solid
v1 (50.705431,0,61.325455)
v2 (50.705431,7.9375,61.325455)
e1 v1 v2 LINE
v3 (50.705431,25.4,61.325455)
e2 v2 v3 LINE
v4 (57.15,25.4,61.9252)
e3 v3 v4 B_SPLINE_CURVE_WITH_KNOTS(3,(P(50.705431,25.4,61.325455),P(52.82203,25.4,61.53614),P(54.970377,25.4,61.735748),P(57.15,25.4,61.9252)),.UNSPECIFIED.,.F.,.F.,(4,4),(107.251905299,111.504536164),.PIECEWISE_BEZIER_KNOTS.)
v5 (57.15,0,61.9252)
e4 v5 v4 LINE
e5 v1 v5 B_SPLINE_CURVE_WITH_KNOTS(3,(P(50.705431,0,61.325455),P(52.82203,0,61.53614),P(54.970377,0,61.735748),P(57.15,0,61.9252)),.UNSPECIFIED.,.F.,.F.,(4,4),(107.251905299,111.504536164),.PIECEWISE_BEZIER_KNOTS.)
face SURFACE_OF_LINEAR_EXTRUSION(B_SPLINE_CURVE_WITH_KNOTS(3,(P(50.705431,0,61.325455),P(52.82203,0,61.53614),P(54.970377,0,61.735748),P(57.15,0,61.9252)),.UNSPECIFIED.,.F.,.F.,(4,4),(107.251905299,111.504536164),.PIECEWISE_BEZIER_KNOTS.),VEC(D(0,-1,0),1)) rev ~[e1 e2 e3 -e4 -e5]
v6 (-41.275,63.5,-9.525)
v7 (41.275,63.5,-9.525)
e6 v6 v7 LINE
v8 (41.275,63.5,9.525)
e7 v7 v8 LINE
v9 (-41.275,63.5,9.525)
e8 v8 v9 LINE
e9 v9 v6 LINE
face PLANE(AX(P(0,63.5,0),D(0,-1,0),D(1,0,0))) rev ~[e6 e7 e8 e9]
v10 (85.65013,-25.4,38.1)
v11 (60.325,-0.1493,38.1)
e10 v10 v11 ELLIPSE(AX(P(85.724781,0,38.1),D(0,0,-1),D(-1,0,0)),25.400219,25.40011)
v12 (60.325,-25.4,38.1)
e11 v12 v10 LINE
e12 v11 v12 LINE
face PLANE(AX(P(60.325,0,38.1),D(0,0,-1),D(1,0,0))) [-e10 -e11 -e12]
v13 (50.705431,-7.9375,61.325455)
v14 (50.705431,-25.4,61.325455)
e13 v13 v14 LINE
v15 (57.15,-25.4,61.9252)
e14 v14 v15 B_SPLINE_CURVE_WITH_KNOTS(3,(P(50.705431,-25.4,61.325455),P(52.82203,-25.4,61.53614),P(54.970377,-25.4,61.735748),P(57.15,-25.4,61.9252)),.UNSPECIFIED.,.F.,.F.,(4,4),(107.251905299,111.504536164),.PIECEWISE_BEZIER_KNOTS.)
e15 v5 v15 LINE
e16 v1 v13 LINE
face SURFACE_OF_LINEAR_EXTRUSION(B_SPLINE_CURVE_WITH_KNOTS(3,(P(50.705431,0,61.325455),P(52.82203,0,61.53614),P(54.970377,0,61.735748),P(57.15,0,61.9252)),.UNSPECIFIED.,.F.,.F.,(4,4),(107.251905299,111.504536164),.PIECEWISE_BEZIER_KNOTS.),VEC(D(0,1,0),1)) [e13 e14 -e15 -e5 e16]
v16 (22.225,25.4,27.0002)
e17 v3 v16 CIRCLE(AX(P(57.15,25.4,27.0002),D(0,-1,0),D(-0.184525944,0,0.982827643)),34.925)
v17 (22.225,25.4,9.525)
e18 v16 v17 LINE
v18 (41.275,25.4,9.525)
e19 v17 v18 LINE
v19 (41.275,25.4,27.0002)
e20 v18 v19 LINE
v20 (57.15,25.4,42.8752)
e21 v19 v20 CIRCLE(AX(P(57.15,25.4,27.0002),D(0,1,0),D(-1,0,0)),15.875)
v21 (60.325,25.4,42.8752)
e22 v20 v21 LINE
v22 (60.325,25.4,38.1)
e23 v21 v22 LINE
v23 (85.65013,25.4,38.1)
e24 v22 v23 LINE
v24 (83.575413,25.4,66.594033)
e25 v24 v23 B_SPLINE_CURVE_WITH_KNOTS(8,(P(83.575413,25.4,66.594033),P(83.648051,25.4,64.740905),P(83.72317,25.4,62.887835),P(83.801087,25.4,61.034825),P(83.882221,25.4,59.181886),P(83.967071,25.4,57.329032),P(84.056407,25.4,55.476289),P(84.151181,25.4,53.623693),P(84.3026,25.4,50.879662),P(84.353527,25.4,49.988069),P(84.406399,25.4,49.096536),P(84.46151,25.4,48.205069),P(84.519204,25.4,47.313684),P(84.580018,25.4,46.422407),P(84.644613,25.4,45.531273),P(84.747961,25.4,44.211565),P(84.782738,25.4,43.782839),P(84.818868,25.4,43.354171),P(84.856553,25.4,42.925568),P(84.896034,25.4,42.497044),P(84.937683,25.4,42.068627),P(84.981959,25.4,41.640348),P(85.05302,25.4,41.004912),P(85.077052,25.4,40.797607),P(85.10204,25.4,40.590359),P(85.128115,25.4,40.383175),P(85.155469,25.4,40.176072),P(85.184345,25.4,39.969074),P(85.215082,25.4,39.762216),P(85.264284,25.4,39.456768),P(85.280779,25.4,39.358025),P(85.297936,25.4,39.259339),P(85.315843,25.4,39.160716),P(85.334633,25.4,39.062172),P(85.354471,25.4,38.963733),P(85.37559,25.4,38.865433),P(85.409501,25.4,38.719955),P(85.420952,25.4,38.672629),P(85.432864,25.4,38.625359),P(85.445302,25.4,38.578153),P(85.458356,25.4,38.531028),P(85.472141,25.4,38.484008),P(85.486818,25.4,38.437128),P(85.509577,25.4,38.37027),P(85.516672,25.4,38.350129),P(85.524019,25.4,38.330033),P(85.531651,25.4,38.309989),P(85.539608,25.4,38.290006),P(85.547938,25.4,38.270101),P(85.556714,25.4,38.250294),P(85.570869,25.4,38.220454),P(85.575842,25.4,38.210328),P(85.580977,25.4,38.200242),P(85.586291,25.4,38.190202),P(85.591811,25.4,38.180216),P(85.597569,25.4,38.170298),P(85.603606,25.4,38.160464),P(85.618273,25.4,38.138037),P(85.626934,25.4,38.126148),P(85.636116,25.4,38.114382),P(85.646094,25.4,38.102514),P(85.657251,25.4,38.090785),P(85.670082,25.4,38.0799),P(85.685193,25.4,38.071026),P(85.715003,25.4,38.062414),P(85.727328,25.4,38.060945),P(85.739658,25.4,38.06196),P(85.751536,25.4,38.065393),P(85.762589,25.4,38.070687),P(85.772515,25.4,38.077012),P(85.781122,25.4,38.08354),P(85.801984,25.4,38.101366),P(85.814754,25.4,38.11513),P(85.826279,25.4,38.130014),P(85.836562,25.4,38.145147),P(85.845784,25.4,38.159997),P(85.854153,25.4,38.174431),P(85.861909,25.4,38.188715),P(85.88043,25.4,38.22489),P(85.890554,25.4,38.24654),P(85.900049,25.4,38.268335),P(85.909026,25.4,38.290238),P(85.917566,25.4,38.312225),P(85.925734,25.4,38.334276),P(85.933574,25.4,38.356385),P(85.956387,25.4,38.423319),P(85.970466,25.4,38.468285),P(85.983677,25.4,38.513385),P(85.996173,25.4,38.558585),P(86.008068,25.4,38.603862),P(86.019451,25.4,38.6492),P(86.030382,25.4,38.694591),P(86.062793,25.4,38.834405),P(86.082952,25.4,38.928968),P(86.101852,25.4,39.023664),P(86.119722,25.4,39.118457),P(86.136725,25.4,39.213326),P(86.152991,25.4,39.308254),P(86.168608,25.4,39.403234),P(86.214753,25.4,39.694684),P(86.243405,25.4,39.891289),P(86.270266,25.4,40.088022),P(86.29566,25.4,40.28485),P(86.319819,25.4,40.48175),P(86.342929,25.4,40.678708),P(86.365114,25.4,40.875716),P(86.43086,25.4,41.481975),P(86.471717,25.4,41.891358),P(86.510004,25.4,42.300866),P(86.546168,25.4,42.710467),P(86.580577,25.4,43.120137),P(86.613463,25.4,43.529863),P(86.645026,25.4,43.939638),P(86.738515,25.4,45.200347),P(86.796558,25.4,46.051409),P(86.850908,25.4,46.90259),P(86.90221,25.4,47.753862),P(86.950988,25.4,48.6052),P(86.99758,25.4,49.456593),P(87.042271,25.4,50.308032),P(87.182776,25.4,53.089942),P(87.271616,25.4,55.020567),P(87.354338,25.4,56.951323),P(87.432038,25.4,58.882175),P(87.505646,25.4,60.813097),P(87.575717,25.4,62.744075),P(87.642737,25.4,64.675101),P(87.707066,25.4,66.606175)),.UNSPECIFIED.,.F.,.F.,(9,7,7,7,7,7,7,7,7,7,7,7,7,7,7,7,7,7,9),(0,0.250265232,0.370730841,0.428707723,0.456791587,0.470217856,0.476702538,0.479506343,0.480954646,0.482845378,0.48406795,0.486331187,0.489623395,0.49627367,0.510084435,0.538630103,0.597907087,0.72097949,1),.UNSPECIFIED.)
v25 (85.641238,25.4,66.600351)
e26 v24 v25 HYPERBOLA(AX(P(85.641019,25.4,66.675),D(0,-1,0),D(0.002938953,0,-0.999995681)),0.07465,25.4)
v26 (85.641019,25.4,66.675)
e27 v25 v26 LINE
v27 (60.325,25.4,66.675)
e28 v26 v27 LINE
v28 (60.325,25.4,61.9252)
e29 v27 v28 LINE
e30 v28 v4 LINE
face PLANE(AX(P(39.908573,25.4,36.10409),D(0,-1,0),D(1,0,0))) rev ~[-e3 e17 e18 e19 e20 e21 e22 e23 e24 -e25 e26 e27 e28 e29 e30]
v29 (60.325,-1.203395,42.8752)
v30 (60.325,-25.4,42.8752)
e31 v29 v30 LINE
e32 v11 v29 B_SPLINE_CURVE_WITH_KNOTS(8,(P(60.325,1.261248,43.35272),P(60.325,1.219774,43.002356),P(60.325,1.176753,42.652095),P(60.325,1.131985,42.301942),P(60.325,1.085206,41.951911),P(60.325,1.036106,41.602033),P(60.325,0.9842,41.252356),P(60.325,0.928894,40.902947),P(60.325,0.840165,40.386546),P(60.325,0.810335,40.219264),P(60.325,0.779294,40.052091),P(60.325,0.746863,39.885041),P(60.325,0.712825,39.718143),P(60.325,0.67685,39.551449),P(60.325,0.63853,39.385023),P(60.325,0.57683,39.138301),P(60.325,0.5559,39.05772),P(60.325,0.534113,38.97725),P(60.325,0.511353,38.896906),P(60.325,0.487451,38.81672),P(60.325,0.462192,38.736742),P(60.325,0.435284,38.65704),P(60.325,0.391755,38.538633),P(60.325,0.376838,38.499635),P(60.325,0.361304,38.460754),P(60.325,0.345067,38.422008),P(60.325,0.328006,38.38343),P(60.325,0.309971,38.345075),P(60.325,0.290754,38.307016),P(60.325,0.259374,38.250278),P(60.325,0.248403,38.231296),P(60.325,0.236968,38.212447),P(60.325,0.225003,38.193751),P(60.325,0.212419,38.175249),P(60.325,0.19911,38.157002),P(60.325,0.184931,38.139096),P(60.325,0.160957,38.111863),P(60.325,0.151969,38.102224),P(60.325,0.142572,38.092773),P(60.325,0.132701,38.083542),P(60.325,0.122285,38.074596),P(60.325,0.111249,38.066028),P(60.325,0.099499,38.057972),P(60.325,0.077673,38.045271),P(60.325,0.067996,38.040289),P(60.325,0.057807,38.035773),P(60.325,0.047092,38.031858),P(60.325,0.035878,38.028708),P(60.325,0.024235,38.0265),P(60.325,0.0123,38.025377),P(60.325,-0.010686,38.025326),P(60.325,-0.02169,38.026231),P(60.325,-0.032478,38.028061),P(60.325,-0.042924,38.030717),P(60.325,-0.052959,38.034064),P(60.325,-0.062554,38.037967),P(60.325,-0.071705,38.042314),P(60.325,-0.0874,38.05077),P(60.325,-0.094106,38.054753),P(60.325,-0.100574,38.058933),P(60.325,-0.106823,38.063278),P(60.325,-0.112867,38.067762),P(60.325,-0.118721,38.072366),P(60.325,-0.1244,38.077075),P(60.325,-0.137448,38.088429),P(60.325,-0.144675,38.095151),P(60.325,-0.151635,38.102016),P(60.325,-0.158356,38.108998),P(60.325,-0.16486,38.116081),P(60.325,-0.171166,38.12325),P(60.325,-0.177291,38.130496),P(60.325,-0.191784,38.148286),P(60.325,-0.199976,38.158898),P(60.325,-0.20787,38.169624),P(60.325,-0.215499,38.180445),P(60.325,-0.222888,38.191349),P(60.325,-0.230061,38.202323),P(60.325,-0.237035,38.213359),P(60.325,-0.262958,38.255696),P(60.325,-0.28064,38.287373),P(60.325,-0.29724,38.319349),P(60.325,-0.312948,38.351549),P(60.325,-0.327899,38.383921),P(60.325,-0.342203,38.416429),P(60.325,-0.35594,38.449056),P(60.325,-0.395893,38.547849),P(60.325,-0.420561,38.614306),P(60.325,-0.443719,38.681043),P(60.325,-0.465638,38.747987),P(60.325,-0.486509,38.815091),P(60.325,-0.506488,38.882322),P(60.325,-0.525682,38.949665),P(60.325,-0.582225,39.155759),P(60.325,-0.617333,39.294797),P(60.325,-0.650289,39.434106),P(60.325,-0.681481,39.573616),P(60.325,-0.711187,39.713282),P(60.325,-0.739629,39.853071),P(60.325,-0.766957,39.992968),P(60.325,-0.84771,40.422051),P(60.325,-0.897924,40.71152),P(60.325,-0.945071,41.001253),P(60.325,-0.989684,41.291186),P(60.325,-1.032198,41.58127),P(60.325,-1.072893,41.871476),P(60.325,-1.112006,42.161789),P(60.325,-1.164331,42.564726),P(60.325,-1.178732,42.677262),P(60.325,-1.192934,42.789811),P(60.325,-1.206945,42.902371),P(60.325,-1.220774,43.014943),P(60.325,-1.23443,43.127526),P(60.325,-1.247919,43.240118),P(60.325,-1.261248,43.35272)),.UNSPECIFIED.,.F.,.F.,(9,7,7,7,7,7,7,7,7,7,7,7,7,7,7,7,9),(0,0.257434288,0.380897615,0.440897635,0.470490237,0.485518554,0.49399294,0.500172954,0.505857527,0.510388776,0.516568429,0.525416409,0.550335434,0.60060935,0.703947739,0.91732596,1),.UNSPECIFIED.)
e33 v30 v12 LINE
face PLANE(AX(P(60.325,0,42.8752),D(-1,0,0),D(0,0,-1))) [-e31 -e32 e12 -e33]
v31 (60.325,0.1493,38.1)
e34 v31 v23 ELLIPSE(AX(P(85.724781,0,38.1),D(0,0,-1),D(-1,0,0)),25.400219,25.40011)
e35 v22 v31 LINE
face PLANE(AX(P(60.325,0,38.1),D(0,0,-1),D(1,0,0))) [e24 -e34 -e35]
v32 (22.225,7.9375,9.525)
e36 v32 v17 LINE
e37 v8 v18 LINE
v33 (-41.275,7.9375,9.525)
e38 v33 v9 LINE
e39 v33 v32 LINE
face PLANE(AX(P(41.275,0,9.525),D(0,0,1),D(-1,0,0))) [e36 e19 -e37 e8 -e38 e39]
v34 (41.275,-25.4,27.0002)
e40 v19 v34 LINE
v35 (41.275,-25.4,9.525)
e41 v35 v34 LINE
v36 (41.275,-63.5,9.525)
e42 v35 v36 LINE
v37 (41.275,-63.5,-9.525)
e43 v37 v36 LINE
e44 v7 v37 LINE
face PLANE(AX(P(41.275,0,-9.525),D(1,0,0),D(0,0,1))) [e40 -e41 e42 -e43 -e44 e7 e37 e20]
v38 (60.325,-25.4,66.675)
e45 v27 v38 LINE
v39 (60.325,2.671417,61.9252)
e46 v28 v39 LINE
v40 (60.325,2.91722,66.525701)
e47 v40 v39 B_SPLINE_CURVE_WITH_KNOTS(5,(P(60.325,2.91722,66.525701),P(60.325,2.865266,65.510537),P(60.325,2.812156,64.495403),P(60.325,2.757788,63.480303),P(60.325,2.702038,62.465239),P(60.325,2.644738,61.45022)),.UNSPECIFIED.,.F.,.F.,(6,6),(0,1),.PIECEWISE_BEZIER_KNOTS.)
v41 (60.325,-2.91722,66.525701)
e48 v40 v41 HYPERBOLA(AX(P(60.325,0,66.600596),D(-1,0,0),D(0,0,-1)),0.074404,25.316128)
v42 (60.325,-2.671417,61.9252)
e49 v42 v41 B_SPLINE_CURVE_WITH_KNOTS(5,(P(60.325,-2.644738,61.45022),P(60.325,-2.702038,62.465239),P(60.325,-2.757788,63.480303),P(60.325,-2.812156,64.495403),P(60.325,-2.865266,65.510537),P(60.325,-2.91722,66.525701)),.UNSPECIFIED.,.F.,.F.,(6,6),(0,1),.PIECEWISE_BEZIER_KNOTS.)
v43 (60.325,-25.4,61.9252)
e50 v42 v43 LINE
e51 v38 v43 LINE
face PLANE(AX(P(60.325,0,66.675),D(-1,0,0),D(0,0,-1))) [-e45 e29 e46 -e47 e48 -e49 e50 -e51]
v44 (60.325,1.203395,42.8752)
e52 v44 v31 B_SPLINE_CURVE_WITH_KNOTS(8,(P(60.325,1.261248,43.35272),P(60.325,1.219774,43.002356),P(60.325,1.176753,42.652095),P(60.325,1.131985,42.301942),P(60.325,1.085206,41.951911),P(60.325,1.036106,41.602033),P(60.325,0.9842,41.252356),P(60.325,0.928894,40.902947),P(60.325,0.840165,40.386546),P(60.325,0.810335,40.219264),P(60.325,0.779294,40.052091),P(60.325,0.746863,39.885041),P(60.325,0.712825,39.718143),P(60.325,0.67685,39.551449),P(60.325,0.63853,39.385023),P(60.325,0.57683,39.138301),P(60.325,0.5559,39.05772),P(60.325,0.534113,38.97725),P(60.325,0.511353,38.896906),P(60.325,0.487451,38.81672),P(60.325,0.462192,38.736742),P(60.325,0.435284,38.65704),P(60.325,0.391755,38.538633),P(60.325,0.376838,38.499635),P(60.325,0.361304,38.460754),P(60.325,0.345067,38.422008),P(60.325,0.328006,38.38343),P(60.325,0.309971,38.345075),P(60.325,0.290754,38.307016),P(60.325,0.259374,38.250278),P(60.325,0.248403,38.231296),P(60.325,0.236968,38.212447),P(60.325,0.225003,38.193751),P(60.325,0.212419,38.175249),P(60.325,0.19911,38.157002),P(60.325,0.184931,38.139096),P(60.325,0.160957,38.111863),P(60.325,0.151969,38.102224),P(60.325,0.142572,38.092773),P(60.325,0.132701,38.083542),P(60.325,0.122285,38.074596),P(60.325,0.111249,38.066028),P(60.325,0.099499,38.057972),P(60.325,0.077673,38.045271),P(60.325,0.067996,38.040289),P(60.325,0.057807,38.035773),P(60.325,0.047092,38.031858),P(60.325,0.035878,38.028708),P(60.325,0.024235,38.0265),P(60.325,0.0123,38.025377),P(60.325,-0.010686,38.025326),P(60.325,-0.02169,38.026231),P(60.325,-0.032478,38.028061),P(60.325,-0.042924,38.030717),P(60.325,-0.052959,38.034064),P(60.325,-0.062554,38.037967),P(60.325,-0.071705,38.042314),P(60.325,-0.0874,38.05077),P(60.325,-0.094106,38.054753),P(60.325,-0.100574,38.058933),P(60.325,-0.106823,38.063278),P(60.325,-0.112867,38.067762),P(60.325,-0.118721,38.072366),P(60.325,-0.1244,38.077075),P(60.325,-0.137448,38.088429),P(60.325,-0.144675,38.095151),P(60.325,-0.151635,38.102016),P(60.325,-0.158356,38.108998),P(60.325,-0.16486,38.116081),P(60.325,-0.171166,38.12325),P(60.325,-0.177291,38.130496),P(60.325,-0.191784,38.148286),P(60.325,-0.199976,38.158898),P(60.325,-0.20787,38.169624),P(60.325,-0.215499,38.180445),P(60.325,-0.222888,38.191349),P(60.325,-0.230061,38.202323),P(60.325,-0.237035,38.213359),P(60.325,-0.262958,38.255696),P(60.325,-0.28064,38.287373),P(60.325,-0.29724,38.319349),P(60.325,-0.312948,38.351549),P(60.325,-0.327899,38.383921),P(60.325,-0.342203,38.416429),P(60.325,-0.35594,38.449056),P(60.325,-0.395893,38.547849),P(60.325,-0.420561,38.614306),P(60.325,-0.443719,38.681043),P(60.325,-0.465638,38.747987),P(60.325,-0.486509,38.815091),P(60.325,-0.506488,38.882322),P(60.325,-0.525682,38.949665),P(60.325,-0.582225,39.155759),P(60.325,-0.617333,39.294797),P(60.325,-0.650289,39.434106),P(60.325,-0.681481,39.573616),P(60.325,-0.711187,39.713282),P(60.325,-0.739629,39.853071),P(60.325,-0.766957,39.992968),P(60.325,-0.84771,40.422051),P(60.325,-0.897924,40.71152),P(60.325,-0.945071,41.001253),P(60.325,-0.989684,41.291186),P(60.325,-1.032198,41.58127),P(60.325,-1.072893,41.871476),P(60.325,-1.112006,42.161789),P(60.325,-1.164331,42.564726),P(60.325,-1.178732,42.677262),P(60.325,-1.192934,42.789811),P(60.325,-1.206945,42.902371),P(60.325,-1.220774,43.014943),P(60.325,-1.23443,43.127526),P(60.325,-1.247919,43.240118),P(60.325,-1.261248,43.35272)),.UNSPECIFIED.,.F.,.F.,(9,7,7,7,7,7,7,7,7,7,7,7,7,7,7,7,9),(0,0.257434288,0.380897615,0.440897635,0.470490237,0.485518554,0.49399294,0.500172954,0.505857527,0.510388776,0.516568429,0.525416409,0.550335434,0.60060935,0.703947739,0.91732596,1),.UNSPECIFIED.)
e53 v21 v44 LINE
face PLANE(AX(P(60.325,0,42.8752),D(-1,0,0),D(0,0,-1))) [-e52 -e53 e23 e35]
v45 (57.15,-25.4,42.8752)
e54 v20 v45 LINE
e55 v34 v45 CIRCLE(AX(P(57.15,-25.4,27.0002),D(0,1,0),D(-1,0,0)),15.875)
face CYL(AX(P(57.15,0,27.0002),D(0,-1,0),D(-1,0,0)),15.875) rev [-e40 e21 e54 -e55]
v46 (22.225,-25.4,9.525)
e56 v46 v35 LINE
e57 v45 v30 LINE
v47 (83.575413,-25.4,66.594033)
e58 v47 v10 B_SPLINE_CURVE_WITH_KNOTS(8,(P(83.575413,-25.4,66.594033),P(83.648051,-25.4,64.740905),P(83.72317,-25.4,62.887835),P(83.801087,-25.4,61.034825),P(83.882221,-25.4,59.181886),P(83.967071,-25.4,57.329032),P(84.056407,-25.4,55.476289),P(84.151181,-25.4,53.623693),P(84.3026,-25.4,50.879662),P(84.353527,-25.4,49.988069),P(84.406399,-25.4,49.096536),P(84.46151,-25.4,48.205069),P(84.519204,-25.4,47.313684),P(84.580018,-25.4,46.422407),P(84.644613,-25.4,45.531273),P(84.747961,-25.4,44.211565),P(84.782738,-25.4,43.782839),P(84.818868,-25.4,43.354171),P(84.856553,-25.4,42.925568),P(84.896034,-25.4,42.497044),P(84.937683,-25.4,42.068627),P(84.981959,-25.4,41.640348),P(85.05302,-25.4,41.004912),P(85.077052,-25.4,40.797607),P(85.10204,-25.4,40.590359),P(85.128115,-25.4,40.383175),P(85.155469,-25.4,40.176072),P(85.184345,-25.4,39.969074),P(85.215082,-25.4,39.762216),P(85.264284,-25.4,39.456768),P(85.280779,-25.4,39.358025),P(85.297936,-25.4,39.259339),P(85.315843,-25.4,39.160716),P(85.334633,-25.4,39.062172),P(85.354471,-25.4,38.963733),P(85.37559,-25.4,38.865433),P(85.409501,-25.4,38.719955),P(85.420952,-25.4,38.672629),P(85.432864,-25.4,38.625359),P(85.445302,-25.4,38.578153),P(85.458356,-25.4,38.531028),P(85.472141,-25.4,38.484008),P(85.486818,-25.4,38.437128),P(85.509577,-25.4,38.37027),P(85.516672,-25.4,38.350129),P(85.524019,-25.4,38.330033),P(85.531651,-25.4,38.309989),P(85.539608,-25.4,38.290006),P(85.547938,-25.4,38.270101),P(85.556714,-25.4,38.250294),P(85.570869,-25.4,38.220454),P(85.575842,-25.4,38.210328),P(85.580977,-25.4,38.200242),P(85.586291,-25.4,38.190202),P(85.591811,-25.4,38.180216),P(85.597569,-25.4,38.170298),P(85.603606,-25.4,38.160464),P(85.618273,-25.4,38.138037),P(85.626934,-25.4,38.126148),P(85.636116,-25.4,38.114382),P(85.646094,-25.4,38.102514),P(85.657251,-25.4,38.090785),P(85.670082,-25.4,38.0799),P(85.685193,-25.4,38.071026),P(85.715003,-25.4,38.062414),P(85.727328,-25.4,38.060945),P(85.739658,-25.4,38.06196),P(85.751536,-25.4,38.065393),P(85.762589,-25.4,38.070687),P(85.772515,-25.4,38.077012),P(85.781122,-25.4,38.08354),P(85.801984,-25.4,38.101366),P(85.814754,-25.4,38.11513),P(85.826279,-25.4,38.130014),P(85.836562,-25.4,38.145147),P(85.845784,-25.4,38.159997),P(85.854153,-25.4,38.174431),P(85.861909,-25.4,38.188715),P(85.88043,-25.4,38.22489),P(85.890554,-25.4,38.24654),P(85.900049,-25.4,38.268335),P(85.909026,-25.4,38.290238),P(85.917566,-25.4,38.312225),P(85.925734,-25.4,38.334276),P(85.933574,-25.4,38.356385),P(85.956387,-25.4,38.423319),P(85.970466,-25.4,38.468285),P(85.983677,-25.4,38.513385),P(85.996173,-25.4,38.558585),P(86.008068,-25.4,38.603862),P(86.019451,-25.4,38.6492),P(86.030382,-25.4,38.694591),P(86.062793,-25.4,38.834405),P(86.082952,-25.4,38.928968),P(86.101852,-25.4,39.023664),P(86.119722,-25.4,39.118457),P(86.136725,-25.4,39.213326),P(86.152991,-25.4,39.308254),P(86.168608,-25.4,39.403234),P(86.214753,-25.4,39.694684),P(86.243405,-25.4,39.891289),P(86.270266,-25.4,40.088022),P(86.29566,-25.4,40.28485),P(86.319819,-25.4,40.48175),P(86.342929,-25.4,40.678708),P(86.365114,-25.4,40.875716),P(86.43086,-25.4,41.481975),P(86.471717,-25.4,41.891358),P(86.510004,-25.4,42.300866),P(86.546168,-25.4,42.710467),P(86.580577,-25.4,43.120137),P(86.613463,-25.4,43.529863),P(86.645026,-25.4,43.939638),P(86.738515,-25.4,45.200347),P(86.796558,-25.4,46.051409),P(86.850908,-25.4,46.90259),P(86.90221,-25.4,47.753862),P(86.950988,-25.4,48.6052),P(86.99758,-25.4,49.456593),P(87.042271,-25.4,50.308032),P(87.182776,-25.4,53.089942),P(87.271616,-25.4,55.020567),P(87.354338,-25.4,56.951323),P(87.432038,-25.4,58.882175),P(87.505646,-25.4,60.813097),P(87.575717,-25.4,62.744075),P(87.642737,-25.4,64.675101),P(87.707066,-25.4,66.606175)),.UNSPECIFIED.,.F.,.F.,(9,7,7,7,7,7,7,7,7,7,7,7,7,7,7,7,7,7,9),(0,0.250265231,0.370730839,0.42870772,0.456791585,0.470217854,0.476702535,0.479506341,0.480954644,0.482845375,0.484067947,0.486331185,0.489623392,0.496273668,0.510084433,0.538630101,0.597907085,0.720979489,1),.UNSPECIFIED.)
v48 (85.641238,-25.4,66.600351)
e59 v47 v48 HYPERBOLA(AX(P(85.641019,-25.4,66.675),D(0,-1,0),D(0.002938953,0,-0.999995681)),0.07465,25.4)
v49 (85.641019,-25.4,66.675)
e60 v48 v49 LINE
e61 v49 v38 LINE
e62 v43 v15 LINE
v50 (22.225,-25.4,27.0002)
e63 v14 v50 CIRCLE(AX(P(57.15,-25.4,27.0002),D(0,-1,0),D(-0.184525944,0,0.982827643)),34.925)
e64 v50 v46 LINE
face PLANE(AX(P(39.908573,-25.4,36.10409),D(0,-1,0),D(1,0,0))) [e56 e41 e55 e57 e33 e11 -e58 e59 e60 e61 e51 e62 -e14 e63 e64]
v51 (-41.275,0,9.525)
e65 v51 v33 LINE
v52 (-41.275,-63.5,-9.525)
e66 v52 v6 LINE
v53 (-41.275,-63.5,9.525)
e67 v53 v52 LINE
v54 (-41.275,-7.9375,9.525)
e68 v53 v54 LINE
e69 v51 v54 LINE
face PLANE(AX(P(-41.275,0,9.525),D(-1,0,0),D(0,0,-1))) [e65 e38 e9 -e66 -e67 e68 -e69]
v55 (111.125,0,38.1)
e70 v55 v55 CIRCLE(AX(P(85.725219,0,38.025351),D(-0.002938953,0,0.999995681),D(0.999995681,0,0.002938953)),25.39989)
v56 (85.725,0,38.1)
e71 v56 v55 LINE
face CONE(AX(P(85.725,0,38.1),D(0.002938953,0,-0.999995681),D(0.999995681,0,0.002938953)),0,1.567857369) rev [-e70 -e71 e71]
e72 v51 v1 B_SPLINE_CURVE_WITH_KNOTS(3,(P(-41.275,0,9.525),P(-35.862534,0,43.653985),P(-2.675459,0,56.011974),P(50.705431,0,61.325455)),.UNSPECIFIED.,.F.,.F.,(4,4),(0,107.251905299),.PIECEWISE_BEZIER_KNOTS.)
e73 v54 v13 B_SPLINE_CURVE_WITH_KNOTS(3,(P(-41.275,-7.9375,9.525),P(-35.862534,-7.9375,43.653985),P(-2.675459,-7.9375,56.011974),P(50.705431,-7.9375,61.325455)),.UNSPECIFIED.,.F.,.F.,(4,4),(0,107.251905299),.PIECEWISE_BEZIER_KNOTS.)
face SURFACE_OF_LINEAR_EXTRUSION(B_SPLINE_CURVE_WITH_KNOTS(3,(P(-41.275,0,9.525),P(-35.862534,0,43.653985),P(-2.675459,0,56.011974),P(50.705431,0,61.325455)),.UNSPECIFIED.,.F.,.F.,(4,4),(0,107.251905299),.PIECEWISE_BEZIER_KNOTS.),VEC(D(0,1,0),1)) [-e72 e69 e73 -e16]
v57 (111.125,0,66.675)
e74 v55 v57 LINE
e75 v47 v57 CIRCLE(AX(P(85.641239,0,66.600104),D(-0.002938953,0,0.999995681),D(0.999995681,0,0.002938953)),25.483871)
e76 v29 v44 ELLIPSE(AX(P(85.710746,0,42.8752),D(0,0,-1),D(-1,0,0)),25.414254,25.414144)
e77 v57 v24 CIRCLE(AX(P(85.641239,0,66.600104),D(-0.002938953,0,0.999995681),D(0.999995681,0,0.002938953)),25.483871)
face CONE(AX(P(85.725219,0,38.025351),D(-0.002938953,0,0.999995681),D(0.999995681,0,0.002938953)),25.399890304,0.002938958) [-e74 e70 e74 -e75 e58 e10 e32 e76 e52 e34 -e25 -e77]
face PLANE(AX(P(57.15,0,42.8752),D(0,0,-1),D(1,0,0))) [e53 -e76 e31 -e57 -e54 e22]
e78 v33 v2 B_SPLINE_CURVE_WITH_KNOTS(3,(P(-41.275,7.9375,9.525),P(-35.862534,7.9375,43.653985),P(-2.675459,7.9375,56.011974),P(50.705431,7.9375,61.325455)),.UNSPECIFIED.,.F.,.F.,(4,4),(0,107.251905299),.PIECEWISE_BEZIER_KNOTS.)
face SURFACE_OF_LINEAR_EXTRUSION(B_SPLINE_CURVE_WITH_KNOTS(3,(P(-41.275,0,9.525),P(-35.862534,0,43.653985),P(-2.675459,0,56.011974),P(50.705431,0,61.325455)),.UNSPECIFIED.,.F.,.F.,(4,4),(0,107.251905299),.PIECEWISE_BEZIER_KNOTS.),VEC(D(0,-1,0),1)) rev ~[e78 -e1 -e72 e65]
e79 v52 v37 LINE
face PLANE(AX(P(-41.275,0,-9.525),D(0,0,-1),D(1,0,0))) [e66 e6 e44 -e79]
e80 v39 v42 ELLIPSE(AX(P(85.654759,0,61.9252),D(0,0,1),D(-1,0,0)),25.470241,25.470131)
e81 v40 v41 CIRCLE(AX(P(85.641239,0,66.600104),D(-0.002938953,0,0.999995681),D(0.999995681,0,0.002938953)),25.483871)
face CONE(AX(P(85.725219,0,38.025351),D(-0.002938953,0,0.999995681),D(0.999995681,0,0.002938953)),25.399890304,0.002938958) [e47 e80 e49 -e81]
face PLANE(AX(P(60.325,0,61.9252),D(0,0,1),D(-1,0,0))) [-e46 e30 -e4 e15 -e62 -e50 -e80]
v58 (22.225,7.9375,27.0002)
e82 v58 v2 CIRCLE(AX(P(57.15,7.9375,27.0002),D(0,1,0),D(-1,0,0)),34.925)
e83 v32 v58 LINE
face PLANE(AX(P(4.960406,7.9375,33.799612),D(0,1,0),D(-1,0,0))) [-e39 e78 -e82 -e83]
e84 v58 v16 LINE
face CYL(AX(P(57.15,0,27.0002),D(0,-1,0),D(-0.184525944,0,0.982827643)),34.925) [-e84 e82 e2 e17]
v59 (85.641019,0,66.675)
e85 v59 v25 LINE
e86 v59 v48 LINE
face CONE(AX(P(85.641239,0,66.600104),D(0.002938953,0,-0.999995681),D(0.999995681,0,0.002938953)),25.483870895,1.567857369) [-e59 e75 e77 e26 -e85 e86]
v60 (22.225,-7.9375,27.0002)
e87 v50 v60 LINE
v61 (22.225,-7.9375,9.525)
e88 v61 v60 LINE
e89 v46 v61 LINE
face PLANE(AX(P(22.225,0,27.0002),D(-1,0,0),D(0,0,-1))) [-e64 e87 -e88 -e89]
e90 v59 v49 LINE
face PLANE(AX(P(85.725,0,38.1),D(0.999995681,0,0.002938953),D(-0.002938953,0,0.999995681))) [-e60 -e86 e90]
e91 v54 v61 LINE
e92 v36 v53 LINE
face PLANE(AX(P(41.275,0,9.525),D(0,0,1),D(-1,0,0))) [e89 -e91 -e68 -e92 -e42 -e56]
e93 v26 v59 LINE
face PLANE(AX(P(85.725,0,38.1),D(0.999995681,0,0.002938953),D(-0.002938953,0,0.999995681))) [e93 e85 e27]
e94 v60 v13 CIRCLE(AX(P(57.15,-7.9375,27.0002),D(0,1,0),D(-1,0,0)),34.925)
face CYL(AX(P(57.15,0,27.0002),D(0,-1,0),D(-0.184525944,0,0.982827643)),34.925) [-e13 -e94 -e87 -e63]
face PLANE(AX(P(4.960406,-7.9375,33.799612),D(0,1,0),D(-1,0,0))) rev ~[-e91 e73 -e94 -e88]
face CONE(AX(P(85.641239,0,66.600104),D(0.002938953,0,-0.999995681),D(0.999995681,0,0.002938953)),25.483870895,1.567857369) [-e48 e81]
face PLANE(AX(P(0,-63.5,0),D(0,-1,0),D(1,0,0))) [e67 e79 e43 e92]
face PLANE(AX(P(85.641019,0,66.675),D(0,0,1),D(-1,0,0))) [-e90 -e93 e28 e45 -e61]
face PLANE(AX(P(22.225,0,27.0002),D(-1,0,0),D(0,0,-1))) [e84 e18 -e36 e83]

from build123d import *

# Parameters (mm, degrees)
F1_DEPTH = 63.5
F2_DEPTH = 25.4
F3_DEPTH = 7.9375


with BuildPart() as f1:
    # F0 (on Front) → F1 (new body, symmetric)
    with BuildSketch(Plane.XZ):
        Polygon((-41.275, -9.525), (41.275, -9.525), (41.275, 9.525), (22.225, 9.525), (-41.275, 9.525), align=None)
    extrude(amount=F1_DEPTH, both=True)

    # F0 (on Front) → F2 (join, symmetric)
    with BuildSketch(Plane.XZ):
        with BuildLine():
            Line((22.225, 9.525), (41.275, 9.525))
            Line((41.275, 9.525), (41.275, 27.0002))
            ThreePointArc((41.275, 27.0002), (45.9246798487, 38.2255201513), (57.15, 42.8752))
            Line((57.15, 42.8752), (60.325, 42.8752))
            Line((60.325, 42.8752), (60.325, 61.9252))
            Line((60.325, 61.9252), (57.15, 61.9252))
            add(Edge.make_bspline(
                [(50.7054314014, 61.3254554335), (52.822029921, 61.5361395895), (54.9703769796, 61.7357484347), (57.15, 61.9252)],
                knots=[107.251905299, 107.251905299, 107.251905299, 107.251905299, 111.5045361635, 111.5045361635, 111.5045361635, 111.5045361635], degree=3))
            ThreePointArc((50.7054314014, 61.3254554335), (30.2722007662, 49.3013105855), (22.225, 27.0002))
            Line((22.225, 27.0002), (22.225, 9.525))
        make_face()
        Polygon((60.325, 61.9252), (60.325, 42.8752), (60.325, 38.1), (85.725, 38.1), (85.6410190463, 66.675), (60.325, 66.675), align=None)
    extrude(amount=F2_DEPTH, both=True)

    # F0 (on Front) → F3 (join, symmetric)
    with BuildSketch(Plane.XZ):
        with BuildLine():
            add(Edge.make_bspline(
                [(-41.275, 9.525), (-35.8625339524, 43.6539850574), (-2.675459444, 56.0119735297), (50.7054314014, 61.3254554335)],
                knots=[0, 0, 0, 0, 107.251905299, 107.251905299, 107.251905299, 107.251905299], degree=3))
            Line((-41.275, 9.525), (22.225, 9.525))
            Line((22.225, 9.525), (22.225, 27.0002))
            ThreePointArc((22.225, 27.0002), (30.2722007662, 49.3013105855), (50.7054314014, 61.3254554335))
        make_face()
    extrude(amount=F3_DEPTH, both=True)

    # F0 (on Front) → F4 (revolve)
    with BuildSketch(Plane.XZ):
        Polygon((85.6410190463, 66.675), (85.725, 38.1), (111.125, 38.1), (111.125, 66.675), align=None)
    revolve(axis=Axis((85.6830095232, 0, 52.3875), (-0.0029389533, 0, 0.9999956813)))


solid = f1.part
